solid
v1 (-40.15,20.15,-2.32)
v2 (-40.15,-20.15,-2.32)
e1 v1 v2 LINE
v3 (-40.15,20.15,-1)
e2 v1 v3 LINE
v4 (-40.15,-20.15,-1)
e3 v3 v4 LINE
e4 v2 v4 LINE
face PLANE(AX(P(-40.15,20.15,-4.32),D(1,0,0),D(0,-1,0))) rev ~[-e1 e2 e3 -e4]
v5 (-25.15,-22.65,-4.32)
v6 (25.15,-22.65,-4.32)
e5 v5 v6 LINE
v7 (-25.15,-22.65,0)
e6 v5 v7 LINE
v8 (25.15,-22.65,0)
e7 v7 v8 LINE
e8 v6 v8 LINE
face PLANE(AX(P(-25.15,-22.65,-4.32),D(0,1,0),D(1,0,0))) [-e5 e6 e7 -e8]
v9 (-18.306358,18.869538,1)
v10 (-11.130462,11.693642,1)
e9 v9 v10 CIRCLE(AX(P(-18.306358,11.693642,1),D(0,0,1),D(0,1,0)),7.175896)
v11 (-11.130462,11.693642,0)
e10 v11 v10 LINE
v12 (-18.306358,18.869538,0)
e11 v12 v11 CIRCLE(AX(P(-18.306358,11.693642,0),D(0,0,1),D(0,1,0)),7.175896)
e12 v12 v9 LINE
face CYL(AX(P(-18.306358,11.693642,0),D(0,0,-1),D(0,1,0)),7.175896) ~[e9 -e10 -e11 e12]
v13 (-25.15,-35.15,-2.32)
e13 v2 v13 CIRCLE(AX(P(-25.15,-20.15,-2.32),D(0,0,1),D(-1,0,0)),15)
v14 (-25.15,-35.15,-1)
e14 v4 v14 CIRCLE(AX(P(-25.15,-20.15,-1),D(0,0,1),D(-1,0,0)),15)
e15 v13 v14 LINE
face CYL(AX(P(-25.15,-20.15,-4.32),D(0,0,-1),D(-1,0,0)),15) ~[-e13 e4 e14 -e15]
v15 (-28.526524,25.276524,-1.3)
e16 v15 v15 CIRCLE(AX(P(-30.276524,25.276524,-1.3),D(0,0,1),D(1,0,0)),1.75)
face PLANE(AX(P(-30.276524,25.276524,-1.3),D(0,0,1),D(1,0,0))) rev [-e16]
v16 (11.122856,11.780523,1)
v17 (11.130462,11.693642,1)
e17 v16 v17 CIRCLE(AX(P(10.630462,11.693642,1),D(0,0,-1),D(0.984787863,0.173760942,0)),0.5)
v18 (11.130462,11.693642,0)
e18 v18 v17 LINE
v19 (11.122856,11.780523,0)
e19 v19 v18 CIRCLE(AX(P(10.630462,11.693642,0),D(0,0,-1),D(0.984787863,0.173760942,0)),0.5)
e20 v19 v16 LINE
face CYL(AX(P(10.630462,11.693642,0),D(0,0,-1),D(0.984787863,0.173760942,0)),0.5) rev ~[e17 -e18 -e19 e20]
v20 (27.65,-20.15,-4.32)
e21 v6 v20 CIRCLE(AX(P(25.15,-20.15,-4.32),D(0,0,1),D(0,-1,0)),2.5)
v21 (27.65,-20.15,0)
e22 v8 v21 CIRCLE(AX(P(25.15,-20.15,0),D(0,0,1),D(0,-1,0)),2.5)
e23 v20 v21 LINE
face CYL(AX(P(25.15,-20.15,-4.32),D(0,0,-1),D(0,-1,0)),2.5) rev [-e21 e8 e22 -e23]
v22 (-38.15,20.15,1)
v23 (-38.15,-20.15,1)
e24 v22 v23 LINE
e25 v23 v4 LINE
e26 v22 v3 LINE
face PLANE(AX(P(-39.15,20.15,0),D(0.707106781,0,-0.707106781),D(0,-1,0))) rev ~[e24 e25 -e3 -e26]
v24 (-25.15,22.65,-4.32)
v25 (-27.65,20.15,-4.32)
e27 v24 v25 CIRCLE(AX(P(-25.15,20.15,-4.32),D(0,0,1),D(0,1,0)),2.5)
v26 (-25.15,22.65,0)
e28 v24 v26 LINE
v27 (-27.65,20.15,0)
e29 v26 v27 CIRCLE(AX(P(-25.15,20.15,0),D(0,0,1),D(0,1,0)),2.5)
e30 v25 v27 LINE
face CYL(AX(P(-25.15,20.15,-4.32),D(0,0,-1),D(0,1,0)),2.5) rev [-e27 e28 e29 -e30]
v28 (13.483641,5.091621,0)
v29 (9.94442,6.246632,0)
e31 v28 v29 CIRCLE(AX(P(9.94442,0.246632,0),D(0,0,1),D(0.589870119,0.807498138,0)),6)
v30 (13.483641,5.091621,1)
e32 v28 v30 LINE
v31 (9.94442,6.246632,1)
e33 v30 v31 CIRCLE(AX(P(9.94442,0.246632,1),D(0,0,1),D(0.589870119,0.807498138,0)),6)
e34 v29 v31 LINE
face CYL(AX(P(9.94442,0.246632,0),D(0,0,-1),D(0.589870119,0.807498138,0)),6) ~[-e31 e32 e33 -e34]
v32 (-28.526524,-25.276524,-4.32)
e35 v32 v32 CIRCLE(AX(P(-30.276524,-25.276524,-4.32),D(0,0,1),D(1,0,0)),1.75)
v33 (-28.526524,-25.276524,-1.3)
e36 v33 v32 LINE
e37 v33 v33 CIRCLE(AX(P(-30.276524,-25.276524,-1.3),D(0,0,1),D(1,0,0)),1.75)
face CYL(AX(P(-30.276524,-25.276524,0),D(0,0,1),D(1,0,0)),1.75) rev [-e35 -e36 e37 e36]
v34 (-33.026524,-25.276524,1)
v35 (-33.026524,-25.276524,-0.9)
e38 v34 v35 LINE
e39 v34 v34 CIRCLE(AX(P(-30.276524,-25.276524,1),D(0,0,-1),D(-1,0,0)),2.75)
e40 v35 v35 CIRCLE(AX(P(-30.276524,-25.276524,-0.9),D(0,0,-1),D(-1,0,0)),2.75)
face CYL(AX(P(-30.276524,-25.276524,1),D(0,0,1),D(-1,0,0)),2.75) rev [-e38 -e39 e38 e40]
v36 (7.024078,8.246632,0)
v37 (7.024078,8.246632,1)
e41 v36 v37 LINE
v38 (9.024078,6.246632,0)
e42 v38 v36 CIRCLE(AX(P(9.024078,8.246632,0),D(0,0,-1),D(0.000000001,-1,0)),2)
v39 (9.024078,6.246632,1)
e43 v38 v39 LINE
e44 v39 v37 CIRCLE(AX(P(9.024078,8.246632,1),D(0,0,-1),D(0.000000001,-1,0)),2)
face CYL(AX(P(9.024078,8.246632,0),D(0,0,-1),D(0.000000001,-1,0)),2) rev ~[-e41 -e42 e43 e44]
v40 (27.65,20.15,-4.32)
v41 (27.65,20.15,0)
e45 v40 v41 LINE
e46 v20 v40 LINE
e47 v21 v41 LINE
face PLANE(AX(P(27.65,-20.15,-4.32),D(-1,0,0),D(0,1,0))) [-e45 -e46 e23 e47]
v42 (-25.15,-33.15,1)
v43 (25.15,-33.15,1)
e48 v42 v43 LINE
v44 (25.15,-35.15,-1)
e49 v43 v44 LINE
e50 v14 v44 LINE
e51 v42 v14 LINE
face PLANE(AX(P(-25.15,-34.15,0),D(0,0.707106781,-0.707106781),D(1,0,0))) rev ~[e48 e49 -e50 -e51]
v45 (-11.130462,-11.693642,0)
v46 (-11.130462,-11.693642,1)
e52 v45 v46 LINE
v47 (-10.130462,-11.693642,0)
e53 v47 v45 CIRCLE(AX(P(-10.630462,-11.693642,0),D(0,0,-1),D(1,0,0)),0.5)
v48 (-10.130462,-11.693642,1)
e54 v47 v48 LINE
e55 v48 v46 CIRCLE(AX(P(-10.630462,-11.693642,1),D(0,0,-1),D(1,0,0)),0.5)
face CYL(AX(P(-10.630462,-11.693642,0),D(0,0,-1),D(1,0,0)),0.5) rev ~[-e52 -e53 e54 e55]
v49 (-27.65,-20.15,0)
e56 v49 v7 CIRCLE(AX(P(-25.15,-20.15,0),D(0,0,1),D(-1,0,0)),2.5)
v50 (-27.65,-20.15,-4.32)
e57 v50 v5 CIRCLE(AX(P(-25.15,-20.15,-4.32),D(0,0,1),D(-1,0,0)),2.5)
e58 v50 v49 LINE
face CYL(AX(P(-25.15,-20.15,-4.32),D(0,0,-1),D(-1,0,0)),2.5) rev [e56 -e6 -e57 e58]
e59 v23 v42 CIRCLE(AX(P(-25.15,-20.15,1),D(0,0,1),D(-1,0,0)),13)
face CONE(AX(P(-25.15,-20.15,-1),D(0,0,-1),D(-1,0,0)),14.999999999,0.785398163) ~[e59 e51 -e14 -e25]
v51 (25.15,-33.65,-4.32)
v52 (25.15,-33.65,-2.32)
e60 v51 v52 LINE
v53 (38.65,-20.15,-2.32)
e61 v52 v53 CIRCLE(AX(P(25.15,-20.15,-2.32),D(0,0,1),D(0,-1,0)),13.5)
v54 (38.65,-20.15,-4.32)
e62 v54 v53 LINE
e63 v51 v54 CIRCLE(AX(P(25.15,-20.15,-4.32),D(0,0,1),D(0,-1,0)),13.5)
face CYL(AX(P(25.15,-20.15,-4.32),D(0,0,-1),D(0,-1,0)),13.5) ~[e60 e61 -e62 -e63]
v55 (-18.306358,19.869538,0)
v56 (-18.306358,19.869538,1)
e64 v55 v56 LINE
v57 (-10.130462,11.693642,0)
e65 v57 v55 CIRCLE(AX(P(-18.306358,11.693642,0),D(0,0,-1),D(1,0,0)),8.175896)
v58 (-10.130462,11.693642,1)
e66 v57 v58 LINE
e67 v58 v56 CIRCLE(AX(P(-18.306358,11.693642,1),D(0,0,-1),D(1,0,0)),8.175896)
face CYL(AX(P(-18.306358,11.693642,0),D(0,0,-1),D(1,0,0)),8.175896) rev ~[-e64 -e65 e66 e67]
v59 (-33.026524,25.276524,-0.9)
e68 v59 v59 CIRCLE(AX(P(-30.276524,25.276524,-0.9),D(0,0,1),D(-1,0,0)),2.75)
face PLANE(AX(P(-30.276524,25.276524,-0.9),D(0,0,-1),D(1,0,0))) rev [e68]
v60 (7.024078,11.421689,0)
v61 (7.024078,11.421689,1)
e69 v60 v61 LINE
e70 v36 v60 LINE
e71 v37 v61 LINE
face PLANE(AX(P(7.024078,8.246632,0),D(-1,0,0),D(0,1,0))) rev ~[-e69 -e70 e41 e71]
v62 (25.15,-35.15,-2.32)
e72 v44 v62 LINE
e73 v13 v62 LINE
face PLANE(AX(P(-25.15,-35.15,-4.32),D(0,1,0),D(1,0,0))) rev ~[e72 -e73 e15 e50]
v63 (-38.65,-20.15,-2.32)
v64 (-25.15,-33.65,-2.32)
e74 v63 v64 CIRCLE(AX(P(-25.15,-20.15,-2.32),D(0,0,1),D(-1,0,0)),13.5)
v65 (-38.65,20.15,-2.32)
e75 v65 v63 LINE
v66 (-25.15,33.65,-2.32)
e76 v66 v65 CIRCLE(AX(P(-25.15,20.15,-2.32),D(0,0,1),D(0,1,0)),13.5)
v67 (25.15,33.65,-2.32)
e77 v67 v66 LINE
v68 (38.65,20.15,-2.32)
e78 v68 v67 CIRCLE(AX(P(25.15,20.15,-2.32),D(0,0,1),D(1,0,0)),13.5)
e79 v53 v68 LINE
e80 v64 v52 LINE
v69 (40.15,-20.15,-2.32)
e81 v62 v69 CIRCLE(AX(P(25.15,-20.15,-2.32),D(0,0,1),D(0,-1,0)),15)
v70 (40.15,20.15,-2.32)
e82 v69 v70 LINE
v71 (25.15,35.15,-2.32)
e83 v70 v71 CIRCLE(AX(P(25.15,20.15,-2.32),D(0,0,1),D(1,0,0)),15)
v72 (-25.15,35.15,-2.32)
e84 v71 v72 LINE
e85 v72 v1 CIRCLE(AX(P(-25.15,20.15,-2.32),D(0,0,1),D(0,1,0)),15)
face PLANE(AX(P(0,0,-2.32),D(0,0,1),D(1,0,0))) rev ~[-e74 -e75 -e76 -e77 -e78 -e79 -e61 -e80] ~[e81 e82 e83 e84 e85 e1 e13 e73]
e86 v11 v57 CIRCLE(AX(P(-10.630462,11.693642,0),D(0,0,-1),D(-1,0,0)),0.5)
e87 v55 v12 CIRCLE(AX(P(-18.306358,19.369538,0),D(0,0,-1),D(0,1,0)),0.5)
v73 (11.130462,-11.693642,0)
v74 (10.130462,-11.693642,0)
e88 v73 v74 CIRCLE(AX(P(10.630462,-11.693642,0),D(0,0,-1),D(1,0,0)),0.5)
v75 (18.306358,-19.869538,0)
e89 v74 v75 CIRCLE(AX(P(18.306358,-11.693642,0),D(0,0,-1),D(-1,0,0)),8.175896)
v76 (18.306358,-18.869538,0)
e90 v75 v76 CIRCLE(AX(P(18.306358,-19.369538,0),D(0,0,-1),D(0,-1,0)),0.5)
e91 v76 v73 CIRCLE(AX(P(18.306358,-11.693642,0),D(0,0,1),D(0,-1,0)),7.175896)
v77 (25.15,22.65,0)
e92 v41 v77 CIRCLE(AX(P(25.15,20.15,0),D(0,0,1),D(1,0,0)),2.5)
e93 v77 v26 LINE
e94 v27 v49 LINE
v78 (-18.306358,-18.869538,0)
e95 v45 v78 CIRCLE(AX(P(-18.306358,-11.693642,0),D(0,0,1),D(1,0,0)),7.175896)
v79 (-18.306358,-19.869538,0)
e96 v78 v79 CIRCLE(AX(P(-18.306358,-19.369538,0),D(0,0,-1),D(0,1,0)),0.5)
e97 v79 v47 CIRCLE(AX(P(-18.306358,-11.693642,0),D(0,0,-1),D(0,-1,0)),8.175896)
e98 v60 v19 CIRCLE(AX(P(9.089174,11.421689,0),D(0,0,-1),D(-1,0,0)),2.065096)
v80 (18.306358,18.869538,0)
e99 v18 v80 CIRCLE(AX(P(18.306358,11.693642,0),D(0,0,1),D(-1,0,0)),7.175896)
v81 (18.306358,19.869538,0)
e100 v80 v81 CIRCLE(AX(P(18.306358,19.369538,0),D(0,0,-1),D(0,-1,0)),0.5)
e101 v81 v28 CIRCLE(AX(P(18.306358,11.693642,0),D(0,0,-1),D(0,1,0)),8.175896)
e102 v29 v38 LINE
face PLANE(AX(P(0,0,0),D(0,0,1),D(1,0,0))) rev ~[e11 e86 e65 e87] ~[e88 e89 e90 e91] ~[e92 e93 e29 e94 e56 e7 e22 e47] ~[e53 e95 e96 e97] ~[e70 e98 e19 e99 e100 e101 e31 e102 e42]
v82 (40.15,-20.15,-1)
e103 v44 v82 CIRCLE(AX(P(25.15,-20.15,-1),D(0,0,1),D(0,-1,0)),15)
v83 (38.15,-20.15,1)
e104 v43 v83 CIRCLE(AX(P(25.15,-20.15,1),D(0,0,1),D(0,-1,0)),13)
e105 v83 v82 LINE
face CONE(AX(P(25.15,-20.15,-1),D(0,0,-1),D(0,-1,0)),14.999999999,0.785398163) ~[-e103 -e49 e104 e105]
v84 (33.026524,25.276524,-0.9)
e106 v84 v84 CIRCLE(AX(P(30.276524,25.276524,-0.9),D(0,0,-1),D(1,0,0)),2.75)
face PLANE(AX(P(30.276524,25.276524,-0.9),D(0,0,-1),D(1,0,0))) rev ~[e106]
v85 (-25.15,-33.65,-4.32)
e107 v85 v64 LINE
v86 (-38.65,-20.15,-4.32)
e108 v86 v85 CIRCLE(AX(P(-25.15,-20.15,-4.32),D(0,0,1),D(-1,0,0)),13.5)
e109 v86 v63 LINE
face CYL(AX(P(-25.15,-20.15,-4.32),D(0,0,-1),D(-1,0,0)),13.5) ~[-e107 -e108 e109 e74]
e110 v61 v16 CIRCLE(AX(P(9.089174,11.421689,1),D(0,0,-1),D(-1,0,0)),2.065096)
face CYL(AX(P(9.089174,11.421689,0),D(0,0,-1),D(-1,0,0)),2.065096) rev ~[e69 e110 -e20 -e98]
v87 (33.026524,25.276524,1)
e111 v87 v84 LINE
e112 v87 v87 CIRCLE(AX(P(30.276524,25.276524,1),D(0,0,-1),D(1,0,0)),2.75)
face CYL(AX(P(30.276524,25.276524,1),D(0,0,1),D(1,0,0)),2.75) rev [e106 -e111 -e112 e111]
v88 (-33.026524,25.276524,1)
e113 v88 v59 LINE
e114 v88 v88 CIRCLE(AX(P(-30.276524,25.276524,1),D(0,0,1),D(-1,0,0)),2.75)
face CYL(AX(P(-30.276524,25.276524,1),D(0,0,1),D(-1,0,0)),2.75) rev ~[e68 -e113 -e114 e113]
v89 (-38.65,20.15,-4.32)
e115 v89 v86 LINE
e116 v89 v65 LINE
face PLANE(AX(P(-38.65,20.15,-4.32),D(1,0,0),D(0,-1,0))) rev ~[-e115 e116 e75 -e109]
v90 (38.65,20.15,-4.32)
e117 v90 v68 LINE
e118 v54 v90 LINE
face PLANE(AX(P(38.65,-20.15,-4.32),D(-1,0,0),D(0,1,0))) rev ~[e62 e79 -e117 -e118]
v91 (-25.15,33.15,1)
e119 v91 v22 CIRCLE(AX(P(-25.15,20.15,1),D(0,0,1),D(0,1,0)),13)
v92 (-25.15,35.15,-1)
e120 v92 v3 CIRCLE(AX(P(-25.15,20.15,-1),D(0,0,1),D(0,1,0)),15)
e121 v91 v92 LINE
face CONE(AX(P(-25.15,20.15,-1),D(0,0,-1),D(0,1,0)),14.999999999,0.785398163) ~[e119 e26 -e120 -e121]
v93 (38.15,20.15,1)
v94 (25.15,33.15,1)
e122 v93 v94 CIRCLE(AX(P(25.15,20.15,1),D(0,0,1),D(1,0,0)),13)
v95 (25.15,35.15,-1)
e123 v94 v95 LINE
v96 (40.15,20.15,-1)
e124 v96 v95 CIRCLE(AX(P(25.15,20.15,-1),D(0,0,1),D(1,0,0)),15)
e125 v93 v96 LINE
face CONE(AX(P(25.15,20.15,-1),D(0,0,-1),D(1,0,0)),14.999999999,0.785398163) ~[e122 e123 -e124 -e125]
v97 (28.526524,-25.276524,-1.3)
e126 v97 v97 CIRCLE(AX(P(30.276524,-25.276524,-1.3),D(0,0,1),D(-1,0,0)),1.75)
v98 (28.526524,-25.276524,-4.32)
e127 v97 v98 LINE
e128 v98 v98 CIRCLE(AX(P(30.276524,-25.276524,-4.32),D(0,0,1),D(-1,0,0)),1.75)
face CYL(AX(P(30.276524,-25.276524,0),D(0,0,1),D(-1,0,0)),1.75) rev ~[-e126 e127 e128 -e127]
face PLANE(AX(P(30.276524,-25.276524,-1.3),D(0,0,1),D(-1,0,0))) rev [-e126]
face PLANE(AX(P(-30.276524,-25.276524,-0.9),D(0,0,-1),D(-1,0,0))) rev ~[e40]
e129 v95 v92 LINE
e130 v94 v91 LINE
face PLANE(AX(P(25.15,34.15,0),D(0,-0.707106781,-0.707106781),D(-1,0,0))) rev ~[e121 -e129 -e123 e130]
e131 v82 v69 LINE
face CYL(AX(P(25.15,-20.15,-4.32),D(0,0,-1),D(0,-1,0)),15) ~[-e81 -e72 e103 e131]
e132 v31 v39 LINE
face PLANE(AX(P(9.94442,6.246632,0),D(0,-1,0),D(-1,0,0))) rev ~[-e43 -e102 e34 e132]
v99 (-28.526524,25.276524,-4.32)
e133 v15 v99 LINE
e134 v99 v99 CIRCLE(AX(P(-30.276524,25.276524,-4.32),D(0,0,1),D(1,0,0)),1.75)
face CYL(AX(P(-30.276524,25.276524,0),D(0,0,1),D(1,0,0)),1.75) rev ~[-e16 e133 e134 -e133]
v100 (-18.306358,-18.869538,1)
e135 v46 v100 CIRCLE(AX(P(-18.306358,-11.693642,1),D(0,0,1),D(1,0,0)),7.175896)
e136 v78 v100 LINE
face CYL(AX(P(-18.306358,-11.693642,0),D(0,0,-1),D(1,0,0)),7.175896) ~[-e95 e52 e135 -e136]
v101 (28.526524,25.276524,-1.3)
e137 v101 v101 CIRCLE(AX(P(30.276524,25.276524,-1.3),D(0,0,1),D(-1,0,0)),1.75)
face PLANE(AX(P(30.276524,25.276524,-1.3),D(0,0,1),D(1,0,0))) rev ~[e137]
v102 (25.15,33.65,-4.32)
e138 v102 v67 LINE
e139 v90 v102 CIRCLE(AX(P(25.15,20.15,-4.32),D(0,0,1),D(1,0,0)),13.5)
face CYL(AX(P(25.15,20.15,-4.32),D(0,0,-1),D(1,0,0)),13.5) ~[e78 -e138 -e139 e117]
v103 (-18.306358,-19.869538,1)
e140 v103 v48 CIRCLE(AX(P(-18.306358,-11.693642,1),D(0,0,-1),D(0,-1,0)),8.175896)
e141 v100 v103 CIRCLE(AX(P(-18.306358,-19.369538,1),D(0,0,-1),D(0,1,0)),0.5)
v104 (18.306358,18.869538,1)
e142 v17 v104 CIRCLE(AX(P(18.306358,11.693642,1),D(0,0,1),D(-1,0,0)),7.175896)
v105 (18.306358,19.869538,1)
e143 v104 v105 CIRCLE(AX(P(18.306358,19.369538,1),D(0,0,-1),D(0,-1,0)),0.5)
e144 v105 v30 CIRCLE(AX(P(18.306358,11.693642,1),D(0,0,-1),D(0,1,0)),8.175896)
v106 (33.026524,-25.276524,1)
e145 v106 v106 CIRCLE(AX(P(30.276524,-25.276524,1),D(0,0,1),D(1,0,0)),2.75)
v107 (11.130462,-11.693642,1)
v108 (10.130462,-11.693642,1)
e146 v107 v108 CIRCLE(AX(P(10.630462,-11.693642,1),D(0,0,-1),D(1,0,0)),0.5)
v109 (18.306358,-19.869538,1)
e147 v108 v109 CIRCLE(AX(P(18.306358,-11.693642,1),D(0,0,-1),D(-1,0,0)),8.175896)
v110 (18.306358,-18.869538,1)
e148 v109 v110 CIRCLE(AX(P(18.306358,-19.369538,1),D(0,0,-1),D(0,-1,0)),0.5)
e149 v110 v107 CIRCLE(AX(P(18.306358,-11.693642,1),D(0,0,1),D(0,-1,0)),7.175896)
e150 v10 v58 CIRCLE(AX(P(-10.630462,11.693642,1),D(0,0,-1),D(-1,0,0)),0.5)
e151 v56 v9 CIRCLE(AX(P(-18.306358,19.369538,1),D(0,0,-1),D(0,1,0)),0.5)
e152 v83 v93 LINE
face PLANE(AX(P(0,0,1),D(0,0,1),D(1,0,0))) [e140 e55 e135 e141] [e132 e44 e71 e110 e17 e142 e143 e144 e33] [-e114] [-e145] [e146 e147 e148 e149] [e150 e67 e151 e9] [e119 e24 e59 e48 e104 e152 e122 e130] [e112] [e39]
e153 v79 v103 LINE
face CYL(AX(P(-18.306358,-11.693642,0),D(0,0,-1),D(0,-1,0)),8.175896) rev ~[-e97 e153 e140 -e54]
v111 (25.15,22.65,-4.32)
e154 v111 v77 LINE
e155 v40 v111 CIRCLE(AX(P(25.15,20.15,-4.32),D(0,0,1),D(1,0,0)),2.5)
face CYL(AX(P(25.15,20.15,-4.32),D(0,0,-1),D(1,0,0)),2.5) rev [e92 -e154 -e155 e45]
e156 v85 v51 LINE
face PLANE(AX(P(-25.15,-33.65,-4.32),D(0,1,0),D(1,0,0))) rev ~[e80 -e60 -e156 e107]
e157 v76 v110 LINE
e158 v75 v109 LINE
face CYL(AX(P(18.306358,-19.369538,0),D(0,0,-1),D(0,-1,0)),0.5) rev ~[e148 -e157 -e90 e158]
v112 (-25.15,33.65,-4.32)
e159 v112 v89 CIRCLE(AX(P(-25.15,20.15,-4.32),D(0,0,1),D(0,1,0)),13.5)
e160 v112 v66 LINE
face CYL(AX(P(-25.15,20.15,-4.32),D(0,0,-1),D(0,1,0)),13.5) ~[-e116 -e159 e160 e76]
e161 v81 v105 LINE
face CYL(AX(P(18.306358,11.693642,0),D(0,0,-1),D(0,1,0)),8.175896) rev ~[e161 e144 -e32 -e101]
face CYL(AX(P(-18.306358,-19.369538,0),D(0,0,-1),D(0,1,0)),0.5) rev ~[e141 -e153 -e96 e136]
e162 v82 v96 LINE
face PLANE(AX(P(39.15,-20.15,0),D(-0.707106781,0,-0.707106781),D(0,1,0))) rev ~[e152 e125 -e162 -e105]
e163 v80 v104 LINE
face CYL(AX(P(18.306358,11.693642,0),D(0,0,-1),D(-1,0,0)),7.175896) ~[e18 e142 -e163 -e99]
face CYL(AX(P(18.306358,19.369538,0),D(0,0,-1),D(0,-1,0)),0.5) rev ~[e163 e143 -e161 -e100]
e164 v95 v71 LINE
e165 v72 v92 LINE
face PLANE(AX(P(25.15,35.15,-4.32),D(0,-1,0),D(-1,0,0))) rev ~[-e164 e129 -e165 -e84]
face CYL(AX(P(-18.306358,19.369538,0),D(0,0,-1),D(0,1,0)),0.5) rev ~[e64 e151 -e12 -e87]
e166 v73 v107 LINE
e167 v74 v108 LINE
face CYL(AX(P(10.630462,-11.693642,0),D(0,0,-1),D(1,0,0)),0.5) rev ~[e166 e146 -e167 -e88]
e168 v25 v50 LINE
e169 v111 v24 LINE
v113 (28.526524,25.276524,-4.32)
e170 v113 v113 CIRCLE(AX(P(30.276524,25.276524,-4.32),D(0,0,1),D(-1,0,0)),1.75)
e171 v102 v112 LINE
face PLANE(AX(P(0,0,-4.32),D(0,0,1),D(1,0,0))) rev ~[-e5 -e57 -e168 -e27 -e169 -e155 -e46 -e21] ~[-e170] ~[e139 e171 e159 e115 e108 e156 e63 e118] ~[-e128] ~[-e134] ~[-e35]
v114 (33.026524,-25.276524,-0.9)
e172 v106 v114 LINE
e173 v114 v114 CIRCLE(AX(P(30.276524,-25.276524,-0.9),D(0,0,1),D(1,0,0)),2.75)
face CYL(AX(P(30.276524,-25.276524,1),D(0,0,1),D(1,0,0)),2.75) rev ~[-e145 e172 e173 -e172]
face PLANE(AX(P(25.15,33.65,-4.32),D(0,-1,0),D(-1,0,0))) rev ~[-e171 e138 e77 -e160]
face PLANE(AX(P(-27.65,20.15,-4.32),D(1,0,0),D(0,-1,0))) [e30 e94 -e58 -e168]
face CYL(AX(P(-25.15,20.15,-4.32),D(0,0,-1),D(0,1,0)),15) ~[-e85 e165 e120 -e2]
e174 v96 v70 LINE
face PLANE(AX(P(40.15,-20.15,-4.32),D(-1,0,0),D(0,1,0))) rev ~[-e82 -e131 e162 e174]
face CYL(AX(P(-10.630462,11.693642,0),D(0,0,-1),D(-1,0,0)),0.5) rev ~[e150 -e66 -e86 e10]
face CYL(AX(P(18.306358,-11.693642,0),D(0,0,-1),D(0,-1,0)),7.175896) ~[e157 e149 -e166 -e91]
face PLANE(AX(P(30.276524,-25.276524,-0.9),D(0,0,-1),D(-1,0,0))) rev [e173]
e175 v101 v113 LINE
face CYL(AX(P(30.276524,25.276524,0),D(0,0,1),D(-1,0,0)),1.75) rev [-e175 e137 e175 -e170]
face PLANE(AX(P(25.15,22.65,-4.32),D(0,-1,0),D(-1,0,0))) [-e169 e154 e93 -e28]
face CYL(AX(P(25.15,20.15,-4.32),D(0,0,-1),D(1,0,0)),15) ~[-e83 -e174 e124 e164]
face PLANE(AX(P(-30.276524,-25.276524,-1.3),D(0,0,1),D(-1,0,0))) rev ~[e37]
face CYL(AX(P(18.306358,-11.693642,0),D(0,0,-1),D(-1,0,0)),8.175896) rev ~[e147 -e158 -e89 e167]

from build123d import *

# Parameters (mm, degrees)
FLEXTURE_DEPTH                 = 1
GENERAL_START                  = -4.32
GENERAL_DEPTH                  = 4.32
CHANFREIN1_SIZE                = 2
ENL_V_MAT_EXTRU_1_DEPTH        = 2
ESQUISSE2_R                    = 1.75
PASSAGE_VIS_DEPTH              = 54.536972272
LAMAGE_START                   = -1
ESQUISSE2_3_R                  = 2.75
LAMAGE_VIS_DEPTH               = 1.9
ESQUISSE3_R                    = 2.75
IMPRESSIONBRIDGE_DEPTH         = 0.4
SYM_TRIE_2_VIS_COPY_1_SKETCH_R = 1.75
SYM_TRIE_2_VIS_COPY_1_DEPTH    = 54.536972272
SYM_TRIE_START                 = -1
SYM_TRIE_2_VIS_COPY_2_SKETCH_R = 2.75
SYM_TRIE_2_VIS_COPY_2_DEPTH    = 1.9
SYM_TRIE_2_VIS_COPY_3_SKETCH_R = 2.75
SYM_TRIE_2_VIS_COPY_3_DEPTH    = 0.4


with BuildPart() as part:
    # Esquisse1 → Flexture (new body)
    with BuildSketch(Plane.XY):
        with BuildLine():
            ThreePointArc((40.15, 20.15), (35.756601718, 30.756601718), (25.15, 35.15))
            Line((25.15, 35.15), (-25.15, 35.15))
            ThreePointArc((-25.15, 35.15), (-35.756601718, 30.756601718), (-40.15, 20.15))
            Line((-40.15, 20.15), (-40.15, -20.15))
            ThreePointArc((-40.15, -20.15), (-35.756601718, -30.756601718), (-25.15, -35.15))
            Line((-25.15, -35.15), (25.15, -35.15))
            ThreePointArc((25.15, -35.15), (35.756601718, -30.756601718), (40.15, -20.15))
            Line((40.15, -20.15), (40.15, 20.15))
        make_face()
        with BuildLine():
            Line((9.944420337, 6.246632211), (9.024077951, 6.246632211))
            ThreePointArc((9.024077951, 6.246632211), (7.609864388, 6.832418648), (7.024077951, 8.246632211))
            Line((7.024077951, 8.246632211), (7.024077951, 11.421689431))
            ThreePointArc((7.024077951, 11.421689431), (8.90907126, 13.478916909), (11.122855622, 11.780522528))
            ThreePointArc((11.122855622, 11.780522528), (11.128556545, 11.737248439), (11.130461693, 11.693642044))
            ThreePointArc((11.130461693, 11.693642044), (23.380482865, 6.619517135), (18.306357956, 18.869538307))
            ThreePointArc((18.306357956, 18.869538307), (17.806357956, 19.369538307), (18.306357956, 19.869538307))
            ThreePointArc((18.306357956, 19.869538307), (26.07883242, 9.157124665), (13.483641052, 5.091621037))
            ThreePointArc((13.483641052, 5.091621037), (11.805880388, 5.950575275), (9.944420337, 6.246632211))
        make_face(mode=Mode.SUBTRACT)
        with BuildLine():
            ThreePointArc((-18.306357956, -18.869538307), (-17.806357956, -19.369538307), (-18.306357956, -19.869538307))
            ThreePointArc((-18.306357956, -19.869538307), (-24.087589646, -5.912410354), (-10.130461693, -11.693642044))
            ThreePointArc((-10.130461693, -11.693642044), (-10.630461693, -12.193642044), (-11.130461693, -11.693642044))
            ThreePointArc((-11.130461693, -11.693642044), (-23.380482865, -6.619517135), (-18.306357956, -18.869538307))
        make_face(mode=Mode.SUBTRACT)
        with BuildLine():
            ThreePointArc((11.130461693, -11.693642044), (10.630461693, -12.193642044), (10.130461693, -11.693642044))
            ThreePointArc((10.130461693, -11.693642044), (24.087589646, -5.912410354), (18.306357956, -19.869538307))
            ThreePointArc((18.306357956, -19.869538307), (17.806357956, -19.369538307), (18.306357956, -18.869538307))
            ThreePointArc((18.306357956, -18.869538307), (23.380482865, -6.619517135), (11.130461693, -11.693642044))
        make_face(mode=Mode.SUBTRACT)
        with BuildLine():
            ThreePointArc((-18.306357956, 18.869538307), (-23.380482865, 6.619517135), (-11.130461693, 11.693642044))
            ThreePointArc((-11.130461693, 11.693642044), (-10.630461693, 12.193642044), (-10.130461693, 11.693642044))
            ThreePointArc((-10.130461693, 11.693642044), (-24.087589646, 5.912410354), (-18.306357956, 19.869538307))
            ThreePointArc((-18.306357956, 19.869538307), (-17.806357956, 19.369538307), (-18.306357956, 18.869538307))
        make_face(mode=Mode.SUBTRACT)
    extrude(amount=FLEXTURE_DEPTH)

    # Esquisse1<6> → General (add)
    with BuildSketch(Plane.XY.offset(GENERAL_START)):
        with BuildLine():
            Line((25.15, 35.15), (-25.15, 35.15))
            ThreePointArc((-25.15, 35.15), (-35.756601718, 30.756601718), (-40.15, 20.15))
            Line((-40.15, 20.15), (-40.15, -20.15))
            ThreePointArc((-40.15, -20.15), (-35.756601718, -30.756601718), (-25.15, -35.15))
            Line((-25.15, -35.15), (25.15, -35.15))
            ThreePointArc((25.15, -35.15), (35.756601718, -30.756601718), (40.15, -20.15))
            Line((40.15, -20.15), (40.15, 20.15))
            ThreePointArc((40.15, 20.15), (35.756601718, 30.756601718), (25.15, 35.15))
        make_face()
        with BuildLine():
            Line((-27.65, 20.15), (-27.65, -20.15))
            ThreePointArc((-27.65, -20.15), (-26.917766953, -21.917766953), (-25.15, -22.65))
            Line((-25.15, -22.65), (25.15, -22.65))
            ThreePointArc((25.15, -22.65), (26.917766953, -21.917766953), (27.65, -20.15))
            Line((27.65, -20.15), (27.65, 20.15))
            ThreePointArc((27.65, 20.15), (26.917766953, 21.917766953), (25.15, 22.65))
            Line((25.15, 22.65), (-25.15, 22.65))
            ThreePointArc((-25.15, 22.65), (-26.917766953, 21.917766953), (-27.65, 20.15))
        make_face(mode=Mode.SUBTRACT)
    extrude(amount=GENERAL_DEPTH)

    # Chanfrein1
    chanfrein1_edges = [part.edges().sort_by_distance(p)[0] for p in [
        (35.756601718, 30.756601718, 1),
        (0, 35.15, 1),
        (-35.756601718, 30.756601718, 1),
        (-40.15, 0, 1),
        (-35.756601718, -30.756601718, 1),
        (0, -35.15, 1),
        (35.756601718, -30.756601718, 1),
        (40.15, 0, 1),
    ]]
    chamfer(chanfrein1_edges, length=CHANFREIN1_SIZE)

    # Esquisse4 → Enlèv. mat.-Extru.1 (cut)
    with BuildSketch(Plane(origin=(0, 0, -4.32), x_dir=(-1, 0, 0), z_dir=(0, 0, -1))):
        with BuildLine():
            Line((-40.15, -20.15), (-40.15, 20.15))
            ThreePointArc((-40.15, 20.15), (-35.756601718, 30.756601718), (-25.15, 35.15))
            Line((-25.15, 35.15), (25.15, 35.15))
            ThreePointArc((25.15, 35.15), (35.756601718, 30.756601718), (40.15, 20.15))
            Line((40.15, 20.15), (40.15, -20.15))
            ThreePointArc((40.15, -20.15), (35.756601718, -30.756601718), (25.15, -35.15))
            Line((25.15, -35.15), (-25.15, -35.15))
            ThreePointArc((-25.15, -35.15), (-35.756601718, -30.756601718), (-40.15, -20.15))
        make_face()
        with BuildLine():
            Line((25.15, -33.65), (-25.15, -33.65))
            ThreePointArc((-25.15, -33.65), (-34.695941546, -29.695941546), (-38.65, -20.15))
            Line((-38.65, -20.15), (-38.65, 20.15))
            ThreePointArc((-38.65, 20.15), (-34.695941546, 29.695941546), (-25.15, 33.65))
            Line((-25.15, 33.65), (25.15, 33.65))
            ThreePointArc((25.15, 33.65), (34.695941546, 29.695941546), (38.65, 20.15))
            Line((38.65, 20.15), (38.65, -20.15))
            ThreePointArc((38.65, -20.15), (34.695941546, -29.695941546), (25.15, -33.65))
        make_face(mode=Mode.SUBTRACT)
    extrude(amount=-ENL_V_MAT_EXTRU_1_DEPTH, mode=Mode.SUBTRACT)

    # Esquisse2 → Passage vis (cut, through all)
    with BuildSketch(Plane(origin=(0, 0, 0), x_dir=(-1, 0, 0), z_dir=(0, 0, -1))):
        with Locations((-30.276524164, 25.276524164)):
            Circle(ESQUISSE2_R)
    passage_vis = extrude(amount=PASSAGE_VIS_DEPTH, mode=Mode.SUBTRACT)

    # Esquisse2<3> → Lamage vis (cut)
    with BuildSketch(Plane(origin=(0, 0, 0), x_dir=(-1, 0, 0), z_dir=(0, 0, -1)).offset(LAMAGE_START)):
        with Locations(Location((-30.276524164, 25.276524164, 0), (0, 0, 180))):
            Circle(ESQUISSE2_3_R)
    lamage_vis = extrude(amount=LAMAGE_VIS_DEPTH, mode=Mode.SUBTRACT)

    # Esquisse3 → ImpressionBridge (add)
    with BuildSketch(Plane.XY.offset(-0.9)):
        with Locations((30.276524164, 25.276524164)):
            Circle(ESQUISSE3_R)
    impressionbridge = extrude(amount=-IMPRESSIONBRIDGE_DEPTH)

    # Symétrie vis: Passage vis, Lamage vis, ImpressionBridge across plane
    add(passage_vis.mirror(Plane(origin=(0, 0, 0), x_dir=(0, 0, 1), z_dir=(1, 0, 0))), mode=Mode.SUBTRACT)
    add(lamage_vis.mirror(Plane(origin=(0, 0, 0), x_dir=(0, 0, 1), z_dir=(1, 0, 0))), mode=Mode.SUBTRACT)
    add(impressionbridge.mirror(Plane(origin=(0, 0, 0), x_dir=(0, 0, 1), z_dir=(1, 0, 0))))

    # Symétrie 2 vis: Passage vis, Lamage vis, ImpressionBridge across plane
    add(passage_vis.mirror(Plane.ZX), mode=Mode.SUBTRACT)
    add(lamage_vis.mirror(Plane.ZX), mode=Mode.SUBTRACT)
    add(impressionbridge.mirror(Plane.ZX))

    # Symétrie 2 vis copy 1 sketch → Symétrie 2 vis copy 1 (cut, through all)
    with BuildSketch(Plane(origin=(0, 0, 0), x_dir=(1, 0, 0), z_dir=(0, 0, -1))):
        with Locations((-30.276524164, 25.276524164)):
            Circle(SYM_TRIE_2_VIS_COPY_1_SKETCH_R)
    extrude(amount=SYM_TRIE_2_VIS_COPY_1_DEPTH, mode=Mode.SUBTRACT)

    # Symétrie 2 vis copy 2 sketch → Symétrie 2 vis copy 2 (cut)
    with BuildSketch(Plane(origin=(0, 0, 0), x_dir=(1, 0, 0), z_dir=(0, 0, -1)).offset(SYM_TRIE_START)):
        with Locations(Location((-30.276524164, 25.276524164, 0), (0, 0, 180))):
            Circle(SYM_TRIE_2_VIS_COPY_2_SKETCH_R)
    extrude(amount=SYM_TRIE_2_VIS_COPY_2_DEPTH, mode=Mode.SUBTRACT)

    # Symétrie 2 vis copy 3 sketch → Symétrie 2 vis copy 3 (add)
    with BuildSketch(Plane(origin=(0, 0, -0.9), x_dir=(-1, 0, 0), z_dir=(0, 0, 1))):
        with Locations((30.276524164, 25.276524164)):
            Circle(SYM_TRIE_2_VIS_COPY_3_SKETCH_R)
    extrude(amount=-SYM_TRIE_2_VIS_COPY_3_DEPTH)


solid = part.part
